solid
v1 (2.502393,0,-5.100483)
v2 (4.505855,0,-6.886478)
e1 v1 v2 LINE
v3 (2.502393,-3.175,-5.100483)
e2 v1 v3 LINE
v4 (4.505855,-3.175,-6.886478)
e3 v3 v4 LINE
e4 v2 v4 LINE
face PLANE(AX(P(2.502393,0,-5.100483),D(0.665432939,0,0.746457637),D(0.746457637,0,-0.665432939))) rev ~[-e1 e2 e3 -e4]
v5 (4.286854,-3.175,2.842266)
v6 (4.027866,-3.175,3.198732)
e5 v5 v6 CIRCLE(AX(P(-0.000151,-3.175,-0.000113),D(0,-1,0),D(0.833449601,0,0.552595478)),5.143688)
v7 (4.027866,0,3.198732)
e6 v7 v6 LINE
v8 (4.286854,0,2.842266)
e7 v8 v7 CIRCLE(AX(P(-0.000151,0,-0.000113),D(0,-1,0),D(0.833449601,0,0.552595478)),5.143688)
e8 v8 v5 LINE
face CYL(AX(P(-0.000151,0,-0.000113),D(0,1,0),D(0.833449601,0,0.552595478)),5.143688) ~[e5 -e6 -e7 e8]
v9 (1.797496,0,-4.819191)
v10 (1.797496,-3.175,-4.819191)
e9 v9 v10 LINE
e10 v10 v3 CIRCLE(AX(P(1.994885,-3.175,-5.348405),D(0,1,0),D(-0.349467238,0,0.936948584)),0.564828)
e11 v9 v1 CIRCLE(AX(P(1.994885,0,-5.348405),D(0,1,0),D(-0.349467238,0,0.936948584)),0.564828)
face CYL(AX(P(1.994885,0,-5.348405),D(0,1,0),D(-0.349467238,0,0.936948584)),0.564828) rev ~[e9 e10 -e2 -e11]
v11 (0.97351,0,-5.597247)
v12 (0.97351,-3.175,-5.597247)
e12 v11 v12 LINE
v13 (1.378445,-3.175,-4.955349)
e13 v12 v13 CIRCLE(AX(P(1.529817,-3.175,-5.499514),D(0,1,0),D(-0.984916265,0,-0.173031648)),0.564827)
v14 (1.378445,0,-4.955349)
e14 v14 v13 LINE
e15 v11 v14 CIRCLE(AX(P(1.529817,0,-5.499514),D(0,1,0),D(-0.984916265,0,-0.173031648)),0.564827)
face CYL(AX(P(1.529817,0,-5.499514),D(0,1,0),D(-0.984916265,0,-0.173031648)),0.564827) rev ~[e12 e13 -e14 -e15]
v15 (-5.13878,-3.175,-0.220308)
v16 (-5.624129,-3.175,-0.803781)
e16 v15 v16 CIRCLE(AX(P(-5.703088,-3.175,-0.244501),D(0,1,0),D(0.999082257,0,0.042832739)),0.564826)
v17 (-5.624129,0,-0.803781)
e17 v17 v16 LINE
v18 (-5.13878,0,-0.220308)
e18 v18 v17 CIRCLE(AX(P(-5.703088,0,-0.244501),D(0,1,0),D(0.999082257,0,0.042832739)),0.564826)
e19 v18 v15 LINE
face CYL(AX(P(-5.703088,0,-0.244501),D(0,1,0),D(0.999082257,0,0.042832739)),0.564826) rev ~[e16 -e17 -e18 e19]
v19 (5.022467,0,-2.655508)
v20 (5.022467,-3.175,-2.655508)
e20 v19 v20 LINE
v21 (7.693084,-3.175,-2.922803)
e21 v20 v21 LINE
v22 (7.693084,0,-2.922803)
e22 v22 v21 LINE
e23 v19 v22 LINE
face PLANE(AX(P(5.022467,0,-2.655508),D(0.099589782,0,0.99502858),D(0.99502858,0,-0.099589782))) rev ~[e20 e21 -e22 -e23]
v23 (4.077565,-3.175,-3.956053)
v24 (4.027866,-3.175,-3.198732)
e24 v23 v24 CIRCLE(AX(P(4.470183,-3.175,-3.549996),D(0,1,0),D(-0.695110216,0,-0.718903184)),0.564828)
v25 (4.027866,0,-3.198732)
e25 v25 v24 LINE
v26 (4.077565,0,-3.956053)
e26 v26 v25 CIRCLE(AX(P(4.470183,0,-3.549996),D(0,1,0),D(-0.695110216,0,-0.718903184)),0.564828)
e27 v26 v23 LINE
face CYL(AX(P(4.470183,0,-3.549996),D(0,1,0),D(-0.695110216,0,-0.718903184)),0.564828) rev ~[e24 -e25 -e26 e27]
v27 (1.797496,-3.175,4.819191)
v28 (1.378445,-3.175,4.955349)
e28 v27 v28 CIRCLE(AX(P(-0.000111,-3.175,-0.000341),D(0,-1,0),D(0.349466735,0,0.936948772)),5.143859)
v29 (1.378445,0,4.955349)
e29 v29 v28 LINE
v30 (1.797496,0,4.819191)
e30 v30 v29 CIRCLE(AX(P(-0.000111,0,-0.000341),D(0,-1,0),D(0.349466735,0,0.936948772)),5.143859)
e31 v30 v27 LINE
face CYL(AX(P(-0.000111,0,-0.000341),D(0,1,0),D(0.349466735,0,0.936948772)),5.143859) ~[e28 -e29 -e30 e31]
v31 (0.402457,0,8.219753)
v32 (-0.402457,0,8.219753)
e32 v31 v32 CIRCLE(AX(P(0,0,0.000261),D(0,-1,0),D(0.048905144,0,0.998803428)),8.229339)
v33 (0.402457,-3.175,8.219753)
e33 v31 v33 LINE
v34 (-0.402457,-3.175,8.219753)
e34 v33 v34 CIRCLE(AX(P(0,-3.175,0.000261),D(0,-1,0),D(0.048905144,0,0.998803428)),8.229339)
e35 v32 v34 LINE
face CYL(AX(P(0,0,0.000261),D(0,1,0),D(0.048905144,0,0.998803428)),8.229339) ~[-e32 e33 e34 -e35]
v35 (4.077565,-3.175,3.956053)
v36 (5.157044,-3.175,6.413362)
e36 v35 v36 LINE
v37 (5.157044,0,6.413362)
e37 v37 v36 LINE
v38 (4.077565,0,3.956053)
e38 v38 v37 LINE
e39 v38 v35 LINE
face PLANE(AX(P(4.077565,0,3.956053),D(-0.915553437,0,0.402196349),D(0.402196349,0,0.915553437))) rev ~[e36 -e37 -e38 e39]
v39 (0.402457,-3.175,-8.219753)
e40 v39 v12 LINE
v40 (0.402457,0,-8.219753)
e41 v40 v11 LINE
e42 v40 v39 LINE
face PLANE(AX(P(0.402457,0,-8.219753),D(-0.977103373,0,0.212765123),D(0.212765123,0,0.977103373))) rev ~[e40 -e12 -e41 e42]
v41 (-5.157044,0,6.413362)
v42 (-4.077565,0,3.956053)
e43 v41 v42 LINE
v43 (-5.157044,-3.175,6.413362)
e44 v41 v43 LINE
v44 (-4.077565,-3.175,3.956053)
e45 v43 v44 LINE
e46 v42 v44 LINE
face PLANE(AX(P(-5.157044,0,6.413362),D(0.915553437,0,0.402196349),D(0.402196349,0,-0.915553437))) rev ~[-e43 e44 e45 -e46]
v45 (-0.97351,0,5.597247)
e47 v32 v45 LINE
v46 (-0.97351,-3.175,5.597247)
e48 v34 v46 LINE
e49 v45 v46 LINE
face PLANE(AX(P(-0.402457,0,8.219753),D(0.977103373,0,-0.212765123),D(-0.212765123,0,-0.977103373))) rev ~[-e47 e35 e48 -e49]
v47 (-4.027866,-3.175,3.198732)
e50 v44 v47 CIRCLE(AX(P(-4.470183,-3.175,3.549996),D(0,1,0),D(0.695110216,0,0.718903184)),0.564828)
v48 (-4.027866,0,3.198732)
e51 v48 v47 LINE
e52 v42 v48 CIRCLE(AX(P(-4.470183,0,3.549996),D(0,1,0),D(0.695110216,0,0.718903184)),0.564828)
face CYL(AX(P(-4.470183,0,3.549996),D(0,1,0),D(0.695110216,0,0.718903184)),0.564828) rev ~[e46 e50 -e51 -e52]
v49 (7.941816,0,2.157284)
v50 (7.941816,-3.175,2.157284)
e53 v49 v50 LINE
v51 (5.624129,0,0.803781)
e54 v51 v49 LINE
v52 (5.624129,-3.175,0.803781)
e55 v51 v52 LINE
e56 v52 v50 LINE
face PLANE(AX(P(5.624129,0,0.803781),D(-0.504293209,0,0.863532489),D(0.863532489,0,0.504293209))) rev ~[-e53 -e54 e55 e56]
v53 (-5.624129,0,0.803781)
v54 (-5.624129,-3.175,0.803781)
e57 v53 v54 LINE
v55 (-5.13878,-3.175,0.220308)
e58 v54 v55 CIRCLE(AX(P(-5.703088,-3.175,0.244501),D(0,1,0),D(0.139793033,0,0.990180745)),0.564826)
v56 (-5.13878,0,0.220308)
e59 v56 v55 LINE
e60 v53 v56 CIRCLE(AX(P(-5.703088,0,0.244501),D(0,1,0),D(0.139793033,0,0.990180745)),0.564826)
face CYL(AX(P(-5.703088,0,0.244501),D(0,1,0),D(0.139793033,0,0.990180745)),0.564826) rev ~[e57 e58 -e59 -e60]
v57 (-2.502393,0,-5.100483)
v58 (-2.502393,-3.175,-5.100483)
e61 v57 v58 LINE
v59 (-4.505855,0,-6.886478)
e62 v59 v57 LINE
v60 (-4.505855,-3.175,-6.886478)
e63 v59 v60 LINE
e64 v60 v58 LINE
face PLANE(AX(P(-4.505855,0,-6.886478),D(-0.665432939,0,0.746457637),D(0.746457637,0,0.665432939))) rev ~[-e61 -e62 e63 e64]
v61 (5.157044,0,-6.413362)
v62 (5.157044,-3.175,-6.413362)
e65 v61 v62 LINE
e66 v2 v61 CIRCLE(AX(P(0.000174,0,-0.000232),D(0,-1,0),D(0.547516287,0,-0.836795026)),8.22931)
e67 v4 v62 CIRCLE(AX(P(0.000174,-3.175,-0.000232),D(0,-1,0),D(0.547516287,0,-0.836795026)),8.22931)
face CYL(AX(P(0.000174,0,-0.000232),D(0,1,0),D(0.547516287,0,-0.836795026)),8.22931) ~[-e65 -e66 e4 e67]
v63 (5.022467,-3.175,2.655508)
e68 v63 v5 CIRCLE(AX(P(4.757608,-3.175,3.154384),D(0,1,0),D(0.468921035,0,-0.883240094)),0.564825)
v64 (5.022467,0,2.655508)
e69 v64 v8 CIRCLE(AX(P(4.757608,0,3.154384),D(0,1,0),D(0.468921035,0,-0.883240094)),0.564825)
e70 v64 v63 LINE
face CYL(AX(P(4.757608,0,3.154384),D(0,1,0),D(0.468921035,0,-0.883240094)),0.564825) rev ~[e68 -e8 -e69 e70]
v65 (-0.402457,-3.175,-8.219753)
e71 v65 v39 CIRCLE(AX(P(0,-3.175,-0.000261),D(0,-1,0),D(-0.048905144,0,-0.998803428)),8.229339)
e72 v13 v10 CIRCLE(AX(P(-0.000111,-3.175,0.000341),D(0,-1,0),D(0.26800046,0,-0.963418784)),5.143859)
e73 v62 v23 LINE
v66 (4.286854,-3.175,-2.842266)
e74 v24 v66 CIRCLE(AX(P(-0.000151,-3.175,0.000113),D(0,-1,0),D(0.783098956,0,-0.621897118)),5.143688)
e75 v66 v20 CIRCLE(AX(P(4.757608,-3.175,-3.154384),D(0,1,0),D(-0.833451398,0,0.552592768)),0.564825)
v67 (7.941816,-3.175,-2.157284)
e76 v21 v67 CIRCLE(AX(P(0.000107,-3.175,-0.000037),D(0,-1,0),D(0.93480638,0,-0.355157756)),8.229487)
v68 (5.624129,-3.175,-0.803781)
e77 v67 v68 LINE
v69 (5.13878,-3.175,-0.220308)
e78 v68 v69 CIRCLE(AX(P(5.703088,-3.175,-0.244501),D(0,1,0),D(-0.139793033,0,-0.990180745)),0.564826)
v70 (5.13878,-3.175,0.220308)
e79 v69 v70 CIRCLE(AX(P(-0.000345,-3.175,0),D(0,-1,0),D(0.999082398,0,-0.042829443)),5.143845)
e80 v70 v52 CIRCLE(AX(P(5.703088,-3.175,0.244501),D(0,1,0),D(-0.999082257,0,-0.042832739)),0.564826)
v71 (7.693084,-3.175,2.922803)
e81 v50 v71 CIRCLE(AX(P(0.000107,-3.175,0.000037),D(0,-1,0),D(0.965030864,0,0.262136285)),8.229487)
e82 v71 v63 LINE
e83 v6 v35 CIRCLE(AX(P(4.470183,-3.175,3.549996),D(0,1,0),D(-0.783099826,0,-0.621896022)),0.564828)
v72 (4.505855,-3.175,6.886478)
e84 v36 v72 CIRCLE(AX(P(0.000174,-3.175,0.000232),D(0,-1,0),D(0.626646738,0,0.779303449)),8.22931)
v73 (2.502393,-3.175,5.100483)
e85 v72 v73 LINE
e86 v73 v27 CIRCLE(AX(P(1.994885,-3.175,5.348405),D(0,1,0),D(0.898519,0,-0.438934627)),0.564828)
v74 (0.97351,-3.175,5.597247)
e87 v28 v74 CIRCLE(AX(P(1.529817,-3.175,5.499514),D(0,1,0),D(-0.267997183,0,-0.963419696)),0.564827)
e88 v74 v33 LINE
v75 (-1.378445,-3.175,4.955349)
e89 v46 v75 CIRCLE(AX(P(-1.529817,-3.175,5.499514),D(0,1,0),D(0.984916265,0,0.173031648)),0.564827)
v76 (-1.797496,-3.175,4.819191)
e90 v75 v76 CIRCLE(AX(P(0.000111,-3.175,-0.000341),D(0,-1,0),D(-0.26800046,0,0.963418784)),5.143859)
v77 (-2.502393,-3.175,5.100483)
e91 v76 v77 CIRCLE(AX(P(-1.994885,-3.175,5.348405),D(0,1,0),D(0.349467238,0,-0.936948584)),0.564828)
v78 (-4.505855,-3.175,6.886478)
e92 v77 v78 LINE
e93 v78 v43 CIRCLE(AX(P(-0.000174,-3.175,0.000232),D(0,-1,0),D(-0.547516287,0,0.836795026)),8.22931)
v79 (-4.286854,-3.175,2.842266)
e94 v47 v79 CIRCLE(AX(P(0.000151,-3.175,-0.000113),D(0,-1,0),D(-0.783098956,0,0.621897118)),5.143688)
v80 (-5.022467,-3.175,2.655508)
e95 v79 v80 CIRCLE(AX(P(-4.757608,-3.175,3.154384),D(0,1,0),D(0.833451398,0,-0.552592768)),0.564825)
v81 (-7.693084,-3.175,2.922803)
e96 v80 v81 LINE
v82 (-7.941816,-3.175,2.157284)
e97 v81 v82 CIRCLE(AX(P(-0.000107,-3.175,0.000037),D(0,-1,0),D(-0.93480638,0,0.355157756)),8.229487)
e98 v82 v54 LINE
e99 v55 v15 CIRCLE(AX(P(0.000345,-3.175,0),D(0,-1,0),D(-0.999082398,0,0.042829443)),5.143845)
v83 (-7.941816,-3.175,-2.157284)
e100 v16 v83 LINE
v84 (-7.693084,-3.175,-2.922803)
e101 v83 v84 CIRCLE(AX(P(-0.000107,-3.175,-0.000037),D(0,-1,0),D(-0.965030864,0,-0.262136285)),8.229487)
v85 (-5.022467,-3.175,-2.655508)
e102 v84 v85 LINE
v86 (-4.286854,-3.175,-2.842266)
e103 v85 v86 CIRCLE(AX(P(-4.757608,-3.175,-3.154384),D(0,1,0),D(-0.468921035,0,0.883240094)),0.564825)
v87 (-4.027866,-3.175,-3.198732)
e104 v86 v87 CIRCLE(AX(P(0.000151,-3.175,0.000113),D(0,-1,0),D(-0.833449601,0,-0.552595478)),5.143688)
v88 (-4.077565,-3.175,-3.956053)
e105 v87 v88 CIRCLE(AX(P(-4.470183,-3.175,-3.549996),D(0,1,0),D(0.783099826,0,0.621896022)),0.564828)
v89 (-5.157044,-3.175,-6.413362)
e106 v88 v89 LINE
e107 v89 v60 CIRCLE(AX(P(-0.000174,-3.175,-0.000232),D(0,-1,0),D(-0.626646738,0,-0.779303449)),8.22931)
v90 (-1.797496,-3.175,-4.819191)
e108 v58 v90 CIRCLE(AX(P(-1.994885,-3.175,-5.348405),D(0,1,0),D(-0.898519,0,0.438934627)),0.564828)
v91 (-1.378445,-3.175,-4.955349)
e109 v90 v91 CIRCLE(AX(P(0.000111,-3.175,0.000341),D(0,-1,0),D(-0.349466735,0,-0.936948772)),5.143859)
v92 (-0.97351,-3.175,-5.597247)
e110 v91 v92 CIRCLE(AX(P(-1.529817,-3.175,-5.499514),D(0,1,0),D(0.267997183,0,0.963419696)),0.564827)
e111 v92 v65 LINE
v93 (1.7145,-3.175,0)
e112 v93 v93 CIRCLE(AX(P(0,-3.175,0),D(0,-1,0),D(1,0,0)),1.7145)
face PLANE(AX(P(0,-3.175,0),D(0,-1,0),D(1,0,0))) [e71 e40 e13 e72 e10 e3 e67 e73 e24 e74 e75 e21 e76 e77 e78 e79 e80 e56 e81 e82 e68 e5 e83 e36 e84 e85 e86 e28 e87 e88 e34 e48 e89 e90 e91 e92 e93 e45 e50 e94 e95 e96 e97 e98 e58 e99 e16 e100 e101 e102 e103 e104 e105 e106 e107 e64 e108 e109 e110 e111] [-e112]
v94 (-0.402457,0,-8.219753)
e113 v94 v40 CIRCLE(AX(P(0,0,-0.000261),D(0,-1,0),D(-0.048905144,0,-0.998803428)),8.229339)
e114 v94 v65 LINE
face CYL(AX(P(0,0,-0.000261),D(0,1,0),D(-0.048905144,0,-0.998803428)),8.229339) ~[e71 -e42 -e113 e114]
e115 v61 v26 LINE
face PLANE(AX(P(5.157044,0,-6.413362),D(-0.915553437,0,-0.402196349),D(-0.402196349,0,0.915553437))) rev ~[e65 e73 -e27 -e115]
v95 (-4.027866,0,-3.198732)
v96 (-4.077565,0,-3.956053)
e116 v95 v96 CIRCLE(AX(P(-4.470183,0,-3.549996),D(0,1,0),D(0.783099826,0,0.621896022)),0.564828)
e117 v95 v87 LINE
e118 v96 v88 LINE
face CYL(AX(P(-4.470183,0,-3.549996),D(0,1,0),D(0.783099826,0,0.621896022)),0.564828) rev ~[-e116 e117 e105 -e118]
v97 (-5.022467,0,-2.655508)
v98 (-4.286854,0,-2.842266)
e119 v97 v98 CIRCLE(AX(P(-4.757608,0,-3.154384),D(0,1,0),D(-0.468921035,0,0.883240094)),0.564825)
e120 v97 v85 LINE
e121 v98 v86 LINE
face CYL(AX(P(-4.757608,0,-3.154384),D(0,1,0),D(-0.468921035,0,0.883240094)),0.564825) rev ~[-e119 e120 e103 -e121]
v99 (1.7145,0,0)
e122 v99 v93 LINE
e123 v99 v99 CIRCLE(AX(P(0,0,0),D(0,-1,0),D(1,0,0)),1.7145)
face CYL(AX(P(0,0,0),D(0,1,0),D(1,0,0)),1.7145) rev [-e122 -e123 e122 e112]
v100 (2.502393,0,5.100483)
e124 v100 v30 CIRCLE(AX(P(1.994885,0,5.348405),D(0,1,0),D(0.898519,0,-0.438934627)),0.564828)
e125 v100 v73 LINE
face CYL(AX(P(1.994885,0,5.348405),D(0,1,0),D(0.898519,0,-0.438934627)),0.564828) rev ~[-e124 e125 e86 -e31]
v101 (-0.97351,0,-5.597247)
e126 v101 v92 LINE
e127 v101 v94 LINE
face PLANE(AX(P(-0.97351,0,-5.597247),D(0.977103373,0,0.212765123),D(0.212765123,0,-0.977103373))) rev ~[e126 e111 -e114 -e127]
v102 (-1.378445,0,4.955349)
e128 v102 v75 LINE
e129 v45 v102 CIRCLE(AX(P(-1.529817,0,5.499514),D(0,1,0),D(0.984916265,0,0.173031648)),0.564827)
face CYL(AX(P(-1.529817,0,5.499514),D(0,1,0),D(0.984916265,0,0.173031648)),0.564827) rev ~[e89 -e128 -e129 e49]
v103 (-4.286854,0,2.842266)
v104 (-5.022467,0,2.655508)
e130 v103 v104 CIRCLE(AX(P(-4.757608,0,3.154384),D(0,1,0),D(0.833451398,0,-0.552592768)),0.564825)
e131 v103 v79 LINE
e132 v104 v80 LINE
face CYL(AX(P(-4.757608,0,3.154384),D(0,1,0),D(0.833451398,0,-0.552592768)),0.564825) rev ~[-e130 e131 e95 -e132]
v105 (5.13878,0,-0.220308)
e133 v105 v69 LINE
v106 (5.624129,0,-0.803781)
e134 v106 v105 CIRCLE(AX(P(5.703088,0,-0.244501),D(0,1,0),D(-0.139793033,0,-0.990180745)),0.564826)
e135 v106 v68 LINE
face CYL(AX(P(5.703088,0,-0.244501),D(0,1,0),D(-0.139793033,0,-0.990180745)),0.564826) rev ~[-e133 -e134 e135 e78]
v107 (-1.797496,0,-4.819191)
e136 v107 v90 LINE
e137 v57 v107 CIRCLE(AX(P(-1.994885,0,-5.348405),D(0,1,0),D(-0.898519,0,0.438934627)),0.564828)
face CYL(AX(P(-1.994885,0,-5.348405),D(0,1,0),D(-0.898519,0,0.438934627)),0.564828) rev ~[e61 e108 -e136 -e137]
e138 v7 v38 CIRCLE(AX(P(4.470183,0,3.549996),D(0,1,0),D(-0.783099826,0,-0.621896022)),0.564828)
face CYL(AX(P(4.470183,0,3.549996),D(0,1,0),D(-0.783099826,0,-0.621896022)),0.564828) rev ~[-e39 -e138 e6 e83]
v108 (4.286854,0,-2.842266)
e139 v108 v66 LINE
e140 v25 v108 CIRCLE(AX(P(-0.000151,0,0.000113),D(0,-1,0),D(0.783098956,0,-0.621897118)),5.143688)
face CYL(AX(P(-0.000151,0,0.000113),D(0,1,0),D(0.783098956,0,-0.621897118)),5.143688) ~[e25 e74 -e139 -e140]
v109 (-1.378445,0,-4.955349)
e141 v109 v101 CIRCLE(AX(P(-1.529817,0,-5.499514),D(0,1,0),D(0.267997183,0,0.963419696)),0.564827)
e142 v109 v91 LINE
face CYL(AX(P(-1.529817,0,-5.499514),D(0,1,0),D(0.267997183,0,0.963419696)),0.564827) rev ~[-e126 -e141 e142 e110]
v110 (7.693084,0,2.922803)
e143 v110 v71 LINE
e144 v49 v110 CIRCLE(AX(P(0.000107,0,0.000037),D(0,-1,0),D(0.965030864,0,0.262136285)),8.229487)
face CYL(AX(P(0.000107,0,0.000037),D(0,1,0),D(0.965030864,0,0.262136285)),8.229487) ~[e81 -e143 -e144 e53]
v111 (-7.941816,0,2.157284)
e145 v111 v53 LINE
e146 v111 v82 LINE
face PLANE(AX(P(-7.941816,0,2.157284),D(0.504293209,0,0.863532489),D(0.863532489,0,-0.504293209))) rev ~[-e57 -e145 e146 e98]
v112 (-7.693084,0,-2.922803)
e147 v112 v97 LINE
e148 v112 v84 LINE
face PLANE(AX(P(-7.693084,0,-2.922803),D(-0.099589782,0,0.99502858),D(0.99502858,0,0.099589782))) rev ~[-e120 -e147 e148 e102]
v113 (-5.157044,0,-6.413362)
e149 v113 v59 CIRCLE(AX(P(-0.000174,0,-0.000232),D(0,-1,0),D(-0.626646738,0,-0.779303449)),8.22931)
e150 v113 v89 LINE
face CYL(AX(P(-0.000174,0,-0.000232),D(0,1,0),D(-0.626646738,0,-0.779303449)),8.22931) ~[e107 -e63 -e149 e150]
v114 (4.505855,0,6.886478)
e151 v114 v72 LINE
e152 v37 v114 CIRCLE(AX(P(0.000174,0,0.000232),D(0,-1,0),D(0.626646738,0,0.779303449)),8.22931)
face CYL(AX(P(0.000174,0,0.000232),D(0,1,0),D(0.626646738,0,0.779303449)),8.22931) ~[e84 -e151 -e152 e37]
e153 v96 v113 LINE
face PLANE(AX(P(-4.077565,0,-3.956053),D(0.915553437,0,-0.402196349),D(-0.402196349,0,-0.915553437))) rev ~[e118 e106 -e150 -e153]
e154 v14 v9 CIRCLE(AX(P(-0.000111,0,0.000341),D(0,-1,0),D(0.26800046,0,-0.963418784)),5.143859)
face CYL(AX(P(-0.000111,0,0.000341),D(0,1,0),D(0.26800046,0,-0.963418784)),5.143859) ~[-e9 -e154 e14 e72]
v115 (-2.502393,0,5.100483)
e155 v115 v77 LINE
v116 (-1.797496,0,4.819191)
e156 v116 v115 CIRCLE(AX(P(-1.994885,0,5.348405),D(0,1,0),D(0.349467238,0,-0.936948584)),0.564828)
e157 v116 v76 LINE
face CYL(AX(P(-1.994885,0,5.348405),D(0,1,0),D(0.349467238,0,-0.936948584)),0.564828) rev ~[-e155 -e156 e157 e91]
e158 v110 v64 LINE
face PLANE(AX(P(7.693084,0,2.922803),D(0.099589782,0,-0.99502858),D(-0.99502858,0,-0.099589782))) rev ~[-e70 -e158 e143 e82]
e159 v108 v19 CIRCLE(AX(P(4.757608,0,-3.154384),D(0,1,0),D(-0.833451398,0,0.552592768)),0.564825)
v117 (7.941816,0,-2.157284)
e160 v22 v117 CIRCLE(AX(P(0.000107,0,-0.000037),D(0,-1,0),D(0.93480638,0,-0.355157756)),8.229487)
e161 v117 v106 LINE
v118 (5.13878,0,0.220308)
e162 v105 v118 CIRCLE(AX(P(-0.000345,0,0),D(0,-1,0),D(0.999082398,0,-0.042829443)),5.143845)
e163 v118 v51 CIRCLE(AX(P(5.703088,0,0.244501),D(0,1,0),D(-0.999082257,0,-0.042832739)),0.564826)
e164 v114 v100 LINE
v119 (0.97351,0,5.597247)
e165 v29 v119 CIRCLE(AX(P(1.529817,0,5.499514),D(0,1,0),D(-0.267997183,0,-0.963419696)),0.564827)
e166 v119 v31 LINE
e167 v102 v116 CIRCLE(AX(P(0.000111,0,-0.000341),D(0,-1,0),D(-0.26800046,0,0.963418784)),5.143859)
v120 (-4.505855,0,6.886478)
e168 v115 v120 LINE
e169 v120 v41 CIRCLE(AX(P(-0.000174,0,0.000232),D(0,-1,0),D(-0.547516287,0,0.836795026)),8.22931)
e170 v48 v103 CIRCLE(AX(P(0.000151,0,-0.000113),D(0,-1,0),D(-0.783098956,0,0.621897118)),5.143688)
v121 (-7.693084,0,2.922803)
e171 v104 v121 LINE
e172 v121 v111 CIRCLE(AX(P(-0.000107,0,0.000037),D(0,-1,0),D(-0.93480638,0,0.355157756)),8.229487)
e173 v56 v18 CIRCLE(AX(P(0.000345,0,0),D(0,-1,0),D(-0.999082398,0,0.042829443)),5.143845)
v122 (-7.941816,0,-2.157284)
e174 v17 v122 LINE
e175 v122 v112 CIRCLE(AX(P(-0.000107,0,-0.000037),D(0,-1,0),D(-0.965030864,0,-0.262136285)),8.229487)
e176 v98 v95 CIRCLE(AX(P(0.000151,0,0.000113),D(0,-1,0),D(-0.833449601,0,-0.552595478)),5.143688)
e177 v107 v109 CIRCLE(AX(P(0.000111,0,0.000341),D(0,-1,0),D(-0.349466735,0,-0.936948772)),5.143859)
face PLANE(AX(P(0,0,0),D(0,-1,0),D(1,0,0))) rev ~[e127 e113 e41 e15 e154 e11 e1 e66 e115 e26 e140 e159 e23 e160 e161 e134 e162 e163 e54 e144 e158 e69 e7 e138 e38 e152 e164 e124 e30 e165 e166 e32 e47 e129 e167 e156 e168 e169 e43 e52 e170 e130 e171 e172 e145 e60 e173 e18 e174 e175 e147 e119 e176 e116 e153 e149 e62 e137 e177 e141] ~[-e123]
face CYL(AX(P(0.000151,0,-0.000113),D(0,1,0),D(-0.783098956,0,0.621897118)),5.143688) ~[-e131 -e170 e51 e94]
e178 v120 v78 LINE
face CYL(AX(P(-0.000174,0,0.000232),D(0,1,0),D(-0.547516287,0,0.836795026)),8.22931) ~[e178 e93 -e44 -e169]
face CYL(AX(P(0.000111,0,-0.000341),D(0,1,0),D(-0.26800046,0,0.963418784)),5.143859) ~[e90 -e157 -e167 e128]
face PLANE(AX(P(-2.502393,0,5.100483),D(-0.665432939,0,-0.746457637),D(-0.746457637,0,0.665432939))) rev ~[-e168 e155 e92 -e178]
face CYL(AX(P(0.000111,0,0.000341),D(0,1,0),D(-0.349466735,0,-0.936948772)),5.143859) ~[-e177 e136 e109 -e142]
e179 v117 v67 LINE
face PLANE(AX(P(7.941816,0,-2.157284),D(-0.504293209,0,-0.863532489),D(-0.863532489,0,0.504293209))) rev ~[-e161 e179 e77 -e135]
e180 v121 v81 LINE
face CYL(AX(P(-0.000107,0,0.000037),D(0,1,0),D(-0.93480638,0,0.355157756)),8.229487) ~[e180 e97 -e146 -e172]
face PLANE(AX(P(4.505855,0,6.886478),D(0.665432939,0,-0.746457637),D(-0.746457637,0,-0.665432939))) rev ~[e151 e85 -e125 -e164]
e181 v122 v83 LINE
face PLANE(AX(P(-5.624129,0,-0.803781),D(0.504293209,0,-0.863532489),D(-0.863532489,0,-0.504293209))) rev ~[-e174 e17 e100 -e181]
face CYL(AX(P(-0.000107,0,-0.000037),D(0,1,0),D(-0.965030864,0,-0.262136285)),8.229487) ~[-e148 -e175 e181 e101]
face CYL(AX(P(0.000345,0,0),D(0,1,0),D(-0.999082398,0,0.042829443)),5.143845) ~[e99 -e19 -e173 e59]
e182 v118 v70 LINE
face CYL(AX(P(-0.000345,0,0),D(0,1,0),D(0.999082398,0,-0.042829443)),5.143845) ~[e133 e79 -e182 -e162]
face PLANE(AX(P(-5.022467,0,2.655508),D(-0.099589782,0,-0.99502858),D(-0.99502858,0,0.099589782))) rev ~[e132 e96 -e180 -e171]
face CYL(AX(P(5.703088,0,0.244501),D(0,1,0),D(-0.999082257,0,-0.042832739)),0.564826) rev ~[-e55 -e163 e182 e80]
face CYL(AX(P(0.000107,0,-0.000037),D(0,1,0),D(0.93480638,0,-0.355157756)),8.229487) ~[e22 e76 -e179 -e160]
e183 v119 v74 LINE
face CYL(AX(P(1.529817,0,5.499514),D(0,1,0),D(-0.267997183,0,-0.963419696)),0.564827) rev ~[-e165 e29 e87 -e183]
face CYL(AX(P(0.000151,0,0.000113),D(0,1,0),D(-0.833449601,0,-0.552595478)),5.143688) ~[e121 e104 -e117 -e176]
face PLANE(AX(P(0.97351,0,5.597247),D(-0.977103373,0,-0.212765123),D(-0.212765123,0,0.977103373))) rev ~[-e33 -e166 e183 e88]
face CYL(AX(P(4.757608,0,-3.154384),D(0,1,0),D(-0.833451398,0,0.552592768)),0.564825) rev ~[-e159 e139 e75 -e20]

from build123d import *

# Parameters (mm, degrees)
F0_R     = 1.7145
F1_DEPTH = 3.175


with BuildPart() as f1:
    # F0 (on Front) → F1 (new body)
    with BuildSketch(Plane.XZ):
        with BuildLine():
            Line((0.97351, 5.597247), (0.402457, 8.219753))
            ThreePointArc((0.402457, 8.219753), (0, 8.2296), (-0.402457, 8.219753))
            Line((-0.402457, 8.219753), (-0.97351, 5.597247))
            ThreePointArc((-0.97351, 5.597247), (-1.052103, 5.198153), (-1.378445, 4.955349))
            ThreePointArc((-1.378445, 4.955349), (-1.589429, 4.891759), (-1.797496, 4.819191))
            ThreePointArc((-1.797496, 4.819191), (-2.204228, 4.823805), (-2.502393, 5.100483))
            Line((-2.502393, 5.100483), (-4.505855, 6.886478))
            ThreePointArc((-4.505855, 6.886478), (-4.837238, 6.657886), (-5.157044, 6.413362))
            Line((-5.157044, 6.413362), (-4.077565, 3.956053))
            ThreePointArc((-4.077565, 3.956053), (-3.906567, 3.586983), (-4.027866, 3.198732))
            ThreePointArc((-4.027866, 3.198732), (-4.161179, 3.023273), (-4.286854, 2.842266))
            ThreePointArc((-4.286854, 2.842266), (-4.618619, 2.606927), (-5.022467, 2.655508))
            Line((-5.022467, 2.655508), (-7.693084, 2.922803))
            ThreePointArc((-7.693084, 2.922803), (-7.826815, 2.543086), (-7.941816, 2.157284))
            Line((-7.941816, 2.157284), (-5.624129, 0.803781))
            ThreePointArc((-5.624129, 0.803781), (-5.268855, 0.605708), (-5.13878, 0.220308))
            ThreePointArc((-5.13878, 0.220308), (-5.1435, 0), (-5.13878, -0.220308))
            ThreePointArc((-5.13878, -0.220308), (-5.268855, -0.605708), (-5.624129, -0.803781))
            Line((-5.624129, -0.803781), (-7.941816, -2.157284))
            ThreePointArc((-7.941816, -2.157284), (-7.826815, -2.543086), (-7.693084, -2.922803))
            Line((-7.693084, -2.922803), (-5.022467, -2.655508))
            ThreePointArc((-5.022467, -2.655508), (-4.618619, -2.606927), (-4.286854, -2.842266))
            ThreePointArc((-4.286854, -2.842266), (-4.161179, -3.023273), (-4.027866, -3.198732))
            ThreePointArc((-4.027866, -3.198732), (-3.906567, -3.586983), (-4.077565, -3.956053))
            Line((-4.077565, -3.956053), (-5.157044, -6.413362))
            ThreePointArc((-5.157044, -6.413362), (-4.837238, -6.657886), (-4.505855, -6.886478))
            Line((-4.505855, -6.886478), (-2.502393, -5.100483))
            ThreePointArc((-2.502393, -5.100483), (-2.204228, -4.823805), (-1.797496, -4.819191))
            ThreePointArc((-1.797496, -4.819191), (-1.589429, -4.891759), (-1.378445, -4.955349))
            ThreePointArc((-1.378445, -4.955349), (-1.052103, -5.198153), (-0.97351, -5.597247))
            Line((-0.97351, -5.597247), (-0.402457, -8.219753))
            ThreePointArc((-0.402457, -8.219753), (0, -8.2296), (0.402457, -8.219753))
            Line((0.402457, -8.219753), (0.97351, -5.597247))
            ThreePointArc((0.97351, -5.597247), (1.052103, -5.198153), (1.378445, -4.955349))
            ThreePointArc((1.378445, -4.955349), (1.589429, -4.891759), (1.797496, -4.819191))
            ThreePointArc((1.797496, -4.819191), (2.204228, -4.823805), (2.502393, -5.100483))
            Line((2.502393, -5.100483), (4.505855, -6.886478))
            ThreePointArc((4.505855, -6.886478), (4.837238, -6.657886), (5.157044, -6.413362))
            Line((5.157044, -6.413362), (4.077565, -3.956053))
            ThreePointArc((4.077565, -3.956053), (3.906567, -3.586983), (4.027866, -3.198732))
            ThreePointArc((4.027866, -3.198732), (4.161179, -3.023273), (4.286854, -2.842266))
            ThreePointArc((4.286854, -2.842266), (4.618619, -2.606927), (5.022467, -2.655508))
            Line((5.022467, -2.655508), (7.693084, -2.922803))
            ThreePointArc((7.693084, -2.922803), (7.826815, -2.543086), (7.941816, -2.157284))
            Line((7.941816, -2.157284), (5.624129, -0.803781))
            ThreePointArc((5.624129, -0.803781), (5.268855, -0.605708), (5.13878, -0.220308))
            ThreePointArc((5.13878, -0.220308), (5.1435, 0), (5.13878, 0.220308))
            ThreePointArc((5.13878, 0.220308), (5.268855, 0.605708), (5.624129, 0.803781))
            Line((5.624129, 0.803781), (7.941816, 2.157284))
            ThreePointArc((7.941816, 2.157284), (7.826815, 2.543086), (7.693084, 2.922803))
            Line((7.693084, 2.922803), (5.022467, 2.655508))
            ThreePointArc((5.022467, 2.655508), (4.618619, 2.606927), (4.286854, 2.842266))
            ThreePointArc((4.286854, 2.842266), (4.161179, 3.023273), (4.027866, 3.198732))
            ThreePointArc((4.027866, 3.198732), (3.906567, 3.586983), (4.077565, 3.956053))
            Line((4.077565, 3.956053), (5.157044, 6.413362))
            ThreePointArc((5.157044, 6.413362), (4.837238, 6.657886), (4.505855, 6.886478))
            Line((4.505855, 6.886478), (2.502393, 5.100483))
            ThreePointArc((2.502393, 5.100483), (2.204228, 4.823805), (1.797496, 4.819191))
            ThreePointArc((1.797496, 4.819191), (1.589429, 4.891759), (1.378445, 4.955349))
            ThreePointArc((1.378445, 4.955349), (1.052103, 5.198153), (0.97351, 5.597247))
        make_face()
        Circle(F0_R, mode=Mode.SUBTRACT)
    extrude(amount=F1_DEPTH)


solid = f1.part
